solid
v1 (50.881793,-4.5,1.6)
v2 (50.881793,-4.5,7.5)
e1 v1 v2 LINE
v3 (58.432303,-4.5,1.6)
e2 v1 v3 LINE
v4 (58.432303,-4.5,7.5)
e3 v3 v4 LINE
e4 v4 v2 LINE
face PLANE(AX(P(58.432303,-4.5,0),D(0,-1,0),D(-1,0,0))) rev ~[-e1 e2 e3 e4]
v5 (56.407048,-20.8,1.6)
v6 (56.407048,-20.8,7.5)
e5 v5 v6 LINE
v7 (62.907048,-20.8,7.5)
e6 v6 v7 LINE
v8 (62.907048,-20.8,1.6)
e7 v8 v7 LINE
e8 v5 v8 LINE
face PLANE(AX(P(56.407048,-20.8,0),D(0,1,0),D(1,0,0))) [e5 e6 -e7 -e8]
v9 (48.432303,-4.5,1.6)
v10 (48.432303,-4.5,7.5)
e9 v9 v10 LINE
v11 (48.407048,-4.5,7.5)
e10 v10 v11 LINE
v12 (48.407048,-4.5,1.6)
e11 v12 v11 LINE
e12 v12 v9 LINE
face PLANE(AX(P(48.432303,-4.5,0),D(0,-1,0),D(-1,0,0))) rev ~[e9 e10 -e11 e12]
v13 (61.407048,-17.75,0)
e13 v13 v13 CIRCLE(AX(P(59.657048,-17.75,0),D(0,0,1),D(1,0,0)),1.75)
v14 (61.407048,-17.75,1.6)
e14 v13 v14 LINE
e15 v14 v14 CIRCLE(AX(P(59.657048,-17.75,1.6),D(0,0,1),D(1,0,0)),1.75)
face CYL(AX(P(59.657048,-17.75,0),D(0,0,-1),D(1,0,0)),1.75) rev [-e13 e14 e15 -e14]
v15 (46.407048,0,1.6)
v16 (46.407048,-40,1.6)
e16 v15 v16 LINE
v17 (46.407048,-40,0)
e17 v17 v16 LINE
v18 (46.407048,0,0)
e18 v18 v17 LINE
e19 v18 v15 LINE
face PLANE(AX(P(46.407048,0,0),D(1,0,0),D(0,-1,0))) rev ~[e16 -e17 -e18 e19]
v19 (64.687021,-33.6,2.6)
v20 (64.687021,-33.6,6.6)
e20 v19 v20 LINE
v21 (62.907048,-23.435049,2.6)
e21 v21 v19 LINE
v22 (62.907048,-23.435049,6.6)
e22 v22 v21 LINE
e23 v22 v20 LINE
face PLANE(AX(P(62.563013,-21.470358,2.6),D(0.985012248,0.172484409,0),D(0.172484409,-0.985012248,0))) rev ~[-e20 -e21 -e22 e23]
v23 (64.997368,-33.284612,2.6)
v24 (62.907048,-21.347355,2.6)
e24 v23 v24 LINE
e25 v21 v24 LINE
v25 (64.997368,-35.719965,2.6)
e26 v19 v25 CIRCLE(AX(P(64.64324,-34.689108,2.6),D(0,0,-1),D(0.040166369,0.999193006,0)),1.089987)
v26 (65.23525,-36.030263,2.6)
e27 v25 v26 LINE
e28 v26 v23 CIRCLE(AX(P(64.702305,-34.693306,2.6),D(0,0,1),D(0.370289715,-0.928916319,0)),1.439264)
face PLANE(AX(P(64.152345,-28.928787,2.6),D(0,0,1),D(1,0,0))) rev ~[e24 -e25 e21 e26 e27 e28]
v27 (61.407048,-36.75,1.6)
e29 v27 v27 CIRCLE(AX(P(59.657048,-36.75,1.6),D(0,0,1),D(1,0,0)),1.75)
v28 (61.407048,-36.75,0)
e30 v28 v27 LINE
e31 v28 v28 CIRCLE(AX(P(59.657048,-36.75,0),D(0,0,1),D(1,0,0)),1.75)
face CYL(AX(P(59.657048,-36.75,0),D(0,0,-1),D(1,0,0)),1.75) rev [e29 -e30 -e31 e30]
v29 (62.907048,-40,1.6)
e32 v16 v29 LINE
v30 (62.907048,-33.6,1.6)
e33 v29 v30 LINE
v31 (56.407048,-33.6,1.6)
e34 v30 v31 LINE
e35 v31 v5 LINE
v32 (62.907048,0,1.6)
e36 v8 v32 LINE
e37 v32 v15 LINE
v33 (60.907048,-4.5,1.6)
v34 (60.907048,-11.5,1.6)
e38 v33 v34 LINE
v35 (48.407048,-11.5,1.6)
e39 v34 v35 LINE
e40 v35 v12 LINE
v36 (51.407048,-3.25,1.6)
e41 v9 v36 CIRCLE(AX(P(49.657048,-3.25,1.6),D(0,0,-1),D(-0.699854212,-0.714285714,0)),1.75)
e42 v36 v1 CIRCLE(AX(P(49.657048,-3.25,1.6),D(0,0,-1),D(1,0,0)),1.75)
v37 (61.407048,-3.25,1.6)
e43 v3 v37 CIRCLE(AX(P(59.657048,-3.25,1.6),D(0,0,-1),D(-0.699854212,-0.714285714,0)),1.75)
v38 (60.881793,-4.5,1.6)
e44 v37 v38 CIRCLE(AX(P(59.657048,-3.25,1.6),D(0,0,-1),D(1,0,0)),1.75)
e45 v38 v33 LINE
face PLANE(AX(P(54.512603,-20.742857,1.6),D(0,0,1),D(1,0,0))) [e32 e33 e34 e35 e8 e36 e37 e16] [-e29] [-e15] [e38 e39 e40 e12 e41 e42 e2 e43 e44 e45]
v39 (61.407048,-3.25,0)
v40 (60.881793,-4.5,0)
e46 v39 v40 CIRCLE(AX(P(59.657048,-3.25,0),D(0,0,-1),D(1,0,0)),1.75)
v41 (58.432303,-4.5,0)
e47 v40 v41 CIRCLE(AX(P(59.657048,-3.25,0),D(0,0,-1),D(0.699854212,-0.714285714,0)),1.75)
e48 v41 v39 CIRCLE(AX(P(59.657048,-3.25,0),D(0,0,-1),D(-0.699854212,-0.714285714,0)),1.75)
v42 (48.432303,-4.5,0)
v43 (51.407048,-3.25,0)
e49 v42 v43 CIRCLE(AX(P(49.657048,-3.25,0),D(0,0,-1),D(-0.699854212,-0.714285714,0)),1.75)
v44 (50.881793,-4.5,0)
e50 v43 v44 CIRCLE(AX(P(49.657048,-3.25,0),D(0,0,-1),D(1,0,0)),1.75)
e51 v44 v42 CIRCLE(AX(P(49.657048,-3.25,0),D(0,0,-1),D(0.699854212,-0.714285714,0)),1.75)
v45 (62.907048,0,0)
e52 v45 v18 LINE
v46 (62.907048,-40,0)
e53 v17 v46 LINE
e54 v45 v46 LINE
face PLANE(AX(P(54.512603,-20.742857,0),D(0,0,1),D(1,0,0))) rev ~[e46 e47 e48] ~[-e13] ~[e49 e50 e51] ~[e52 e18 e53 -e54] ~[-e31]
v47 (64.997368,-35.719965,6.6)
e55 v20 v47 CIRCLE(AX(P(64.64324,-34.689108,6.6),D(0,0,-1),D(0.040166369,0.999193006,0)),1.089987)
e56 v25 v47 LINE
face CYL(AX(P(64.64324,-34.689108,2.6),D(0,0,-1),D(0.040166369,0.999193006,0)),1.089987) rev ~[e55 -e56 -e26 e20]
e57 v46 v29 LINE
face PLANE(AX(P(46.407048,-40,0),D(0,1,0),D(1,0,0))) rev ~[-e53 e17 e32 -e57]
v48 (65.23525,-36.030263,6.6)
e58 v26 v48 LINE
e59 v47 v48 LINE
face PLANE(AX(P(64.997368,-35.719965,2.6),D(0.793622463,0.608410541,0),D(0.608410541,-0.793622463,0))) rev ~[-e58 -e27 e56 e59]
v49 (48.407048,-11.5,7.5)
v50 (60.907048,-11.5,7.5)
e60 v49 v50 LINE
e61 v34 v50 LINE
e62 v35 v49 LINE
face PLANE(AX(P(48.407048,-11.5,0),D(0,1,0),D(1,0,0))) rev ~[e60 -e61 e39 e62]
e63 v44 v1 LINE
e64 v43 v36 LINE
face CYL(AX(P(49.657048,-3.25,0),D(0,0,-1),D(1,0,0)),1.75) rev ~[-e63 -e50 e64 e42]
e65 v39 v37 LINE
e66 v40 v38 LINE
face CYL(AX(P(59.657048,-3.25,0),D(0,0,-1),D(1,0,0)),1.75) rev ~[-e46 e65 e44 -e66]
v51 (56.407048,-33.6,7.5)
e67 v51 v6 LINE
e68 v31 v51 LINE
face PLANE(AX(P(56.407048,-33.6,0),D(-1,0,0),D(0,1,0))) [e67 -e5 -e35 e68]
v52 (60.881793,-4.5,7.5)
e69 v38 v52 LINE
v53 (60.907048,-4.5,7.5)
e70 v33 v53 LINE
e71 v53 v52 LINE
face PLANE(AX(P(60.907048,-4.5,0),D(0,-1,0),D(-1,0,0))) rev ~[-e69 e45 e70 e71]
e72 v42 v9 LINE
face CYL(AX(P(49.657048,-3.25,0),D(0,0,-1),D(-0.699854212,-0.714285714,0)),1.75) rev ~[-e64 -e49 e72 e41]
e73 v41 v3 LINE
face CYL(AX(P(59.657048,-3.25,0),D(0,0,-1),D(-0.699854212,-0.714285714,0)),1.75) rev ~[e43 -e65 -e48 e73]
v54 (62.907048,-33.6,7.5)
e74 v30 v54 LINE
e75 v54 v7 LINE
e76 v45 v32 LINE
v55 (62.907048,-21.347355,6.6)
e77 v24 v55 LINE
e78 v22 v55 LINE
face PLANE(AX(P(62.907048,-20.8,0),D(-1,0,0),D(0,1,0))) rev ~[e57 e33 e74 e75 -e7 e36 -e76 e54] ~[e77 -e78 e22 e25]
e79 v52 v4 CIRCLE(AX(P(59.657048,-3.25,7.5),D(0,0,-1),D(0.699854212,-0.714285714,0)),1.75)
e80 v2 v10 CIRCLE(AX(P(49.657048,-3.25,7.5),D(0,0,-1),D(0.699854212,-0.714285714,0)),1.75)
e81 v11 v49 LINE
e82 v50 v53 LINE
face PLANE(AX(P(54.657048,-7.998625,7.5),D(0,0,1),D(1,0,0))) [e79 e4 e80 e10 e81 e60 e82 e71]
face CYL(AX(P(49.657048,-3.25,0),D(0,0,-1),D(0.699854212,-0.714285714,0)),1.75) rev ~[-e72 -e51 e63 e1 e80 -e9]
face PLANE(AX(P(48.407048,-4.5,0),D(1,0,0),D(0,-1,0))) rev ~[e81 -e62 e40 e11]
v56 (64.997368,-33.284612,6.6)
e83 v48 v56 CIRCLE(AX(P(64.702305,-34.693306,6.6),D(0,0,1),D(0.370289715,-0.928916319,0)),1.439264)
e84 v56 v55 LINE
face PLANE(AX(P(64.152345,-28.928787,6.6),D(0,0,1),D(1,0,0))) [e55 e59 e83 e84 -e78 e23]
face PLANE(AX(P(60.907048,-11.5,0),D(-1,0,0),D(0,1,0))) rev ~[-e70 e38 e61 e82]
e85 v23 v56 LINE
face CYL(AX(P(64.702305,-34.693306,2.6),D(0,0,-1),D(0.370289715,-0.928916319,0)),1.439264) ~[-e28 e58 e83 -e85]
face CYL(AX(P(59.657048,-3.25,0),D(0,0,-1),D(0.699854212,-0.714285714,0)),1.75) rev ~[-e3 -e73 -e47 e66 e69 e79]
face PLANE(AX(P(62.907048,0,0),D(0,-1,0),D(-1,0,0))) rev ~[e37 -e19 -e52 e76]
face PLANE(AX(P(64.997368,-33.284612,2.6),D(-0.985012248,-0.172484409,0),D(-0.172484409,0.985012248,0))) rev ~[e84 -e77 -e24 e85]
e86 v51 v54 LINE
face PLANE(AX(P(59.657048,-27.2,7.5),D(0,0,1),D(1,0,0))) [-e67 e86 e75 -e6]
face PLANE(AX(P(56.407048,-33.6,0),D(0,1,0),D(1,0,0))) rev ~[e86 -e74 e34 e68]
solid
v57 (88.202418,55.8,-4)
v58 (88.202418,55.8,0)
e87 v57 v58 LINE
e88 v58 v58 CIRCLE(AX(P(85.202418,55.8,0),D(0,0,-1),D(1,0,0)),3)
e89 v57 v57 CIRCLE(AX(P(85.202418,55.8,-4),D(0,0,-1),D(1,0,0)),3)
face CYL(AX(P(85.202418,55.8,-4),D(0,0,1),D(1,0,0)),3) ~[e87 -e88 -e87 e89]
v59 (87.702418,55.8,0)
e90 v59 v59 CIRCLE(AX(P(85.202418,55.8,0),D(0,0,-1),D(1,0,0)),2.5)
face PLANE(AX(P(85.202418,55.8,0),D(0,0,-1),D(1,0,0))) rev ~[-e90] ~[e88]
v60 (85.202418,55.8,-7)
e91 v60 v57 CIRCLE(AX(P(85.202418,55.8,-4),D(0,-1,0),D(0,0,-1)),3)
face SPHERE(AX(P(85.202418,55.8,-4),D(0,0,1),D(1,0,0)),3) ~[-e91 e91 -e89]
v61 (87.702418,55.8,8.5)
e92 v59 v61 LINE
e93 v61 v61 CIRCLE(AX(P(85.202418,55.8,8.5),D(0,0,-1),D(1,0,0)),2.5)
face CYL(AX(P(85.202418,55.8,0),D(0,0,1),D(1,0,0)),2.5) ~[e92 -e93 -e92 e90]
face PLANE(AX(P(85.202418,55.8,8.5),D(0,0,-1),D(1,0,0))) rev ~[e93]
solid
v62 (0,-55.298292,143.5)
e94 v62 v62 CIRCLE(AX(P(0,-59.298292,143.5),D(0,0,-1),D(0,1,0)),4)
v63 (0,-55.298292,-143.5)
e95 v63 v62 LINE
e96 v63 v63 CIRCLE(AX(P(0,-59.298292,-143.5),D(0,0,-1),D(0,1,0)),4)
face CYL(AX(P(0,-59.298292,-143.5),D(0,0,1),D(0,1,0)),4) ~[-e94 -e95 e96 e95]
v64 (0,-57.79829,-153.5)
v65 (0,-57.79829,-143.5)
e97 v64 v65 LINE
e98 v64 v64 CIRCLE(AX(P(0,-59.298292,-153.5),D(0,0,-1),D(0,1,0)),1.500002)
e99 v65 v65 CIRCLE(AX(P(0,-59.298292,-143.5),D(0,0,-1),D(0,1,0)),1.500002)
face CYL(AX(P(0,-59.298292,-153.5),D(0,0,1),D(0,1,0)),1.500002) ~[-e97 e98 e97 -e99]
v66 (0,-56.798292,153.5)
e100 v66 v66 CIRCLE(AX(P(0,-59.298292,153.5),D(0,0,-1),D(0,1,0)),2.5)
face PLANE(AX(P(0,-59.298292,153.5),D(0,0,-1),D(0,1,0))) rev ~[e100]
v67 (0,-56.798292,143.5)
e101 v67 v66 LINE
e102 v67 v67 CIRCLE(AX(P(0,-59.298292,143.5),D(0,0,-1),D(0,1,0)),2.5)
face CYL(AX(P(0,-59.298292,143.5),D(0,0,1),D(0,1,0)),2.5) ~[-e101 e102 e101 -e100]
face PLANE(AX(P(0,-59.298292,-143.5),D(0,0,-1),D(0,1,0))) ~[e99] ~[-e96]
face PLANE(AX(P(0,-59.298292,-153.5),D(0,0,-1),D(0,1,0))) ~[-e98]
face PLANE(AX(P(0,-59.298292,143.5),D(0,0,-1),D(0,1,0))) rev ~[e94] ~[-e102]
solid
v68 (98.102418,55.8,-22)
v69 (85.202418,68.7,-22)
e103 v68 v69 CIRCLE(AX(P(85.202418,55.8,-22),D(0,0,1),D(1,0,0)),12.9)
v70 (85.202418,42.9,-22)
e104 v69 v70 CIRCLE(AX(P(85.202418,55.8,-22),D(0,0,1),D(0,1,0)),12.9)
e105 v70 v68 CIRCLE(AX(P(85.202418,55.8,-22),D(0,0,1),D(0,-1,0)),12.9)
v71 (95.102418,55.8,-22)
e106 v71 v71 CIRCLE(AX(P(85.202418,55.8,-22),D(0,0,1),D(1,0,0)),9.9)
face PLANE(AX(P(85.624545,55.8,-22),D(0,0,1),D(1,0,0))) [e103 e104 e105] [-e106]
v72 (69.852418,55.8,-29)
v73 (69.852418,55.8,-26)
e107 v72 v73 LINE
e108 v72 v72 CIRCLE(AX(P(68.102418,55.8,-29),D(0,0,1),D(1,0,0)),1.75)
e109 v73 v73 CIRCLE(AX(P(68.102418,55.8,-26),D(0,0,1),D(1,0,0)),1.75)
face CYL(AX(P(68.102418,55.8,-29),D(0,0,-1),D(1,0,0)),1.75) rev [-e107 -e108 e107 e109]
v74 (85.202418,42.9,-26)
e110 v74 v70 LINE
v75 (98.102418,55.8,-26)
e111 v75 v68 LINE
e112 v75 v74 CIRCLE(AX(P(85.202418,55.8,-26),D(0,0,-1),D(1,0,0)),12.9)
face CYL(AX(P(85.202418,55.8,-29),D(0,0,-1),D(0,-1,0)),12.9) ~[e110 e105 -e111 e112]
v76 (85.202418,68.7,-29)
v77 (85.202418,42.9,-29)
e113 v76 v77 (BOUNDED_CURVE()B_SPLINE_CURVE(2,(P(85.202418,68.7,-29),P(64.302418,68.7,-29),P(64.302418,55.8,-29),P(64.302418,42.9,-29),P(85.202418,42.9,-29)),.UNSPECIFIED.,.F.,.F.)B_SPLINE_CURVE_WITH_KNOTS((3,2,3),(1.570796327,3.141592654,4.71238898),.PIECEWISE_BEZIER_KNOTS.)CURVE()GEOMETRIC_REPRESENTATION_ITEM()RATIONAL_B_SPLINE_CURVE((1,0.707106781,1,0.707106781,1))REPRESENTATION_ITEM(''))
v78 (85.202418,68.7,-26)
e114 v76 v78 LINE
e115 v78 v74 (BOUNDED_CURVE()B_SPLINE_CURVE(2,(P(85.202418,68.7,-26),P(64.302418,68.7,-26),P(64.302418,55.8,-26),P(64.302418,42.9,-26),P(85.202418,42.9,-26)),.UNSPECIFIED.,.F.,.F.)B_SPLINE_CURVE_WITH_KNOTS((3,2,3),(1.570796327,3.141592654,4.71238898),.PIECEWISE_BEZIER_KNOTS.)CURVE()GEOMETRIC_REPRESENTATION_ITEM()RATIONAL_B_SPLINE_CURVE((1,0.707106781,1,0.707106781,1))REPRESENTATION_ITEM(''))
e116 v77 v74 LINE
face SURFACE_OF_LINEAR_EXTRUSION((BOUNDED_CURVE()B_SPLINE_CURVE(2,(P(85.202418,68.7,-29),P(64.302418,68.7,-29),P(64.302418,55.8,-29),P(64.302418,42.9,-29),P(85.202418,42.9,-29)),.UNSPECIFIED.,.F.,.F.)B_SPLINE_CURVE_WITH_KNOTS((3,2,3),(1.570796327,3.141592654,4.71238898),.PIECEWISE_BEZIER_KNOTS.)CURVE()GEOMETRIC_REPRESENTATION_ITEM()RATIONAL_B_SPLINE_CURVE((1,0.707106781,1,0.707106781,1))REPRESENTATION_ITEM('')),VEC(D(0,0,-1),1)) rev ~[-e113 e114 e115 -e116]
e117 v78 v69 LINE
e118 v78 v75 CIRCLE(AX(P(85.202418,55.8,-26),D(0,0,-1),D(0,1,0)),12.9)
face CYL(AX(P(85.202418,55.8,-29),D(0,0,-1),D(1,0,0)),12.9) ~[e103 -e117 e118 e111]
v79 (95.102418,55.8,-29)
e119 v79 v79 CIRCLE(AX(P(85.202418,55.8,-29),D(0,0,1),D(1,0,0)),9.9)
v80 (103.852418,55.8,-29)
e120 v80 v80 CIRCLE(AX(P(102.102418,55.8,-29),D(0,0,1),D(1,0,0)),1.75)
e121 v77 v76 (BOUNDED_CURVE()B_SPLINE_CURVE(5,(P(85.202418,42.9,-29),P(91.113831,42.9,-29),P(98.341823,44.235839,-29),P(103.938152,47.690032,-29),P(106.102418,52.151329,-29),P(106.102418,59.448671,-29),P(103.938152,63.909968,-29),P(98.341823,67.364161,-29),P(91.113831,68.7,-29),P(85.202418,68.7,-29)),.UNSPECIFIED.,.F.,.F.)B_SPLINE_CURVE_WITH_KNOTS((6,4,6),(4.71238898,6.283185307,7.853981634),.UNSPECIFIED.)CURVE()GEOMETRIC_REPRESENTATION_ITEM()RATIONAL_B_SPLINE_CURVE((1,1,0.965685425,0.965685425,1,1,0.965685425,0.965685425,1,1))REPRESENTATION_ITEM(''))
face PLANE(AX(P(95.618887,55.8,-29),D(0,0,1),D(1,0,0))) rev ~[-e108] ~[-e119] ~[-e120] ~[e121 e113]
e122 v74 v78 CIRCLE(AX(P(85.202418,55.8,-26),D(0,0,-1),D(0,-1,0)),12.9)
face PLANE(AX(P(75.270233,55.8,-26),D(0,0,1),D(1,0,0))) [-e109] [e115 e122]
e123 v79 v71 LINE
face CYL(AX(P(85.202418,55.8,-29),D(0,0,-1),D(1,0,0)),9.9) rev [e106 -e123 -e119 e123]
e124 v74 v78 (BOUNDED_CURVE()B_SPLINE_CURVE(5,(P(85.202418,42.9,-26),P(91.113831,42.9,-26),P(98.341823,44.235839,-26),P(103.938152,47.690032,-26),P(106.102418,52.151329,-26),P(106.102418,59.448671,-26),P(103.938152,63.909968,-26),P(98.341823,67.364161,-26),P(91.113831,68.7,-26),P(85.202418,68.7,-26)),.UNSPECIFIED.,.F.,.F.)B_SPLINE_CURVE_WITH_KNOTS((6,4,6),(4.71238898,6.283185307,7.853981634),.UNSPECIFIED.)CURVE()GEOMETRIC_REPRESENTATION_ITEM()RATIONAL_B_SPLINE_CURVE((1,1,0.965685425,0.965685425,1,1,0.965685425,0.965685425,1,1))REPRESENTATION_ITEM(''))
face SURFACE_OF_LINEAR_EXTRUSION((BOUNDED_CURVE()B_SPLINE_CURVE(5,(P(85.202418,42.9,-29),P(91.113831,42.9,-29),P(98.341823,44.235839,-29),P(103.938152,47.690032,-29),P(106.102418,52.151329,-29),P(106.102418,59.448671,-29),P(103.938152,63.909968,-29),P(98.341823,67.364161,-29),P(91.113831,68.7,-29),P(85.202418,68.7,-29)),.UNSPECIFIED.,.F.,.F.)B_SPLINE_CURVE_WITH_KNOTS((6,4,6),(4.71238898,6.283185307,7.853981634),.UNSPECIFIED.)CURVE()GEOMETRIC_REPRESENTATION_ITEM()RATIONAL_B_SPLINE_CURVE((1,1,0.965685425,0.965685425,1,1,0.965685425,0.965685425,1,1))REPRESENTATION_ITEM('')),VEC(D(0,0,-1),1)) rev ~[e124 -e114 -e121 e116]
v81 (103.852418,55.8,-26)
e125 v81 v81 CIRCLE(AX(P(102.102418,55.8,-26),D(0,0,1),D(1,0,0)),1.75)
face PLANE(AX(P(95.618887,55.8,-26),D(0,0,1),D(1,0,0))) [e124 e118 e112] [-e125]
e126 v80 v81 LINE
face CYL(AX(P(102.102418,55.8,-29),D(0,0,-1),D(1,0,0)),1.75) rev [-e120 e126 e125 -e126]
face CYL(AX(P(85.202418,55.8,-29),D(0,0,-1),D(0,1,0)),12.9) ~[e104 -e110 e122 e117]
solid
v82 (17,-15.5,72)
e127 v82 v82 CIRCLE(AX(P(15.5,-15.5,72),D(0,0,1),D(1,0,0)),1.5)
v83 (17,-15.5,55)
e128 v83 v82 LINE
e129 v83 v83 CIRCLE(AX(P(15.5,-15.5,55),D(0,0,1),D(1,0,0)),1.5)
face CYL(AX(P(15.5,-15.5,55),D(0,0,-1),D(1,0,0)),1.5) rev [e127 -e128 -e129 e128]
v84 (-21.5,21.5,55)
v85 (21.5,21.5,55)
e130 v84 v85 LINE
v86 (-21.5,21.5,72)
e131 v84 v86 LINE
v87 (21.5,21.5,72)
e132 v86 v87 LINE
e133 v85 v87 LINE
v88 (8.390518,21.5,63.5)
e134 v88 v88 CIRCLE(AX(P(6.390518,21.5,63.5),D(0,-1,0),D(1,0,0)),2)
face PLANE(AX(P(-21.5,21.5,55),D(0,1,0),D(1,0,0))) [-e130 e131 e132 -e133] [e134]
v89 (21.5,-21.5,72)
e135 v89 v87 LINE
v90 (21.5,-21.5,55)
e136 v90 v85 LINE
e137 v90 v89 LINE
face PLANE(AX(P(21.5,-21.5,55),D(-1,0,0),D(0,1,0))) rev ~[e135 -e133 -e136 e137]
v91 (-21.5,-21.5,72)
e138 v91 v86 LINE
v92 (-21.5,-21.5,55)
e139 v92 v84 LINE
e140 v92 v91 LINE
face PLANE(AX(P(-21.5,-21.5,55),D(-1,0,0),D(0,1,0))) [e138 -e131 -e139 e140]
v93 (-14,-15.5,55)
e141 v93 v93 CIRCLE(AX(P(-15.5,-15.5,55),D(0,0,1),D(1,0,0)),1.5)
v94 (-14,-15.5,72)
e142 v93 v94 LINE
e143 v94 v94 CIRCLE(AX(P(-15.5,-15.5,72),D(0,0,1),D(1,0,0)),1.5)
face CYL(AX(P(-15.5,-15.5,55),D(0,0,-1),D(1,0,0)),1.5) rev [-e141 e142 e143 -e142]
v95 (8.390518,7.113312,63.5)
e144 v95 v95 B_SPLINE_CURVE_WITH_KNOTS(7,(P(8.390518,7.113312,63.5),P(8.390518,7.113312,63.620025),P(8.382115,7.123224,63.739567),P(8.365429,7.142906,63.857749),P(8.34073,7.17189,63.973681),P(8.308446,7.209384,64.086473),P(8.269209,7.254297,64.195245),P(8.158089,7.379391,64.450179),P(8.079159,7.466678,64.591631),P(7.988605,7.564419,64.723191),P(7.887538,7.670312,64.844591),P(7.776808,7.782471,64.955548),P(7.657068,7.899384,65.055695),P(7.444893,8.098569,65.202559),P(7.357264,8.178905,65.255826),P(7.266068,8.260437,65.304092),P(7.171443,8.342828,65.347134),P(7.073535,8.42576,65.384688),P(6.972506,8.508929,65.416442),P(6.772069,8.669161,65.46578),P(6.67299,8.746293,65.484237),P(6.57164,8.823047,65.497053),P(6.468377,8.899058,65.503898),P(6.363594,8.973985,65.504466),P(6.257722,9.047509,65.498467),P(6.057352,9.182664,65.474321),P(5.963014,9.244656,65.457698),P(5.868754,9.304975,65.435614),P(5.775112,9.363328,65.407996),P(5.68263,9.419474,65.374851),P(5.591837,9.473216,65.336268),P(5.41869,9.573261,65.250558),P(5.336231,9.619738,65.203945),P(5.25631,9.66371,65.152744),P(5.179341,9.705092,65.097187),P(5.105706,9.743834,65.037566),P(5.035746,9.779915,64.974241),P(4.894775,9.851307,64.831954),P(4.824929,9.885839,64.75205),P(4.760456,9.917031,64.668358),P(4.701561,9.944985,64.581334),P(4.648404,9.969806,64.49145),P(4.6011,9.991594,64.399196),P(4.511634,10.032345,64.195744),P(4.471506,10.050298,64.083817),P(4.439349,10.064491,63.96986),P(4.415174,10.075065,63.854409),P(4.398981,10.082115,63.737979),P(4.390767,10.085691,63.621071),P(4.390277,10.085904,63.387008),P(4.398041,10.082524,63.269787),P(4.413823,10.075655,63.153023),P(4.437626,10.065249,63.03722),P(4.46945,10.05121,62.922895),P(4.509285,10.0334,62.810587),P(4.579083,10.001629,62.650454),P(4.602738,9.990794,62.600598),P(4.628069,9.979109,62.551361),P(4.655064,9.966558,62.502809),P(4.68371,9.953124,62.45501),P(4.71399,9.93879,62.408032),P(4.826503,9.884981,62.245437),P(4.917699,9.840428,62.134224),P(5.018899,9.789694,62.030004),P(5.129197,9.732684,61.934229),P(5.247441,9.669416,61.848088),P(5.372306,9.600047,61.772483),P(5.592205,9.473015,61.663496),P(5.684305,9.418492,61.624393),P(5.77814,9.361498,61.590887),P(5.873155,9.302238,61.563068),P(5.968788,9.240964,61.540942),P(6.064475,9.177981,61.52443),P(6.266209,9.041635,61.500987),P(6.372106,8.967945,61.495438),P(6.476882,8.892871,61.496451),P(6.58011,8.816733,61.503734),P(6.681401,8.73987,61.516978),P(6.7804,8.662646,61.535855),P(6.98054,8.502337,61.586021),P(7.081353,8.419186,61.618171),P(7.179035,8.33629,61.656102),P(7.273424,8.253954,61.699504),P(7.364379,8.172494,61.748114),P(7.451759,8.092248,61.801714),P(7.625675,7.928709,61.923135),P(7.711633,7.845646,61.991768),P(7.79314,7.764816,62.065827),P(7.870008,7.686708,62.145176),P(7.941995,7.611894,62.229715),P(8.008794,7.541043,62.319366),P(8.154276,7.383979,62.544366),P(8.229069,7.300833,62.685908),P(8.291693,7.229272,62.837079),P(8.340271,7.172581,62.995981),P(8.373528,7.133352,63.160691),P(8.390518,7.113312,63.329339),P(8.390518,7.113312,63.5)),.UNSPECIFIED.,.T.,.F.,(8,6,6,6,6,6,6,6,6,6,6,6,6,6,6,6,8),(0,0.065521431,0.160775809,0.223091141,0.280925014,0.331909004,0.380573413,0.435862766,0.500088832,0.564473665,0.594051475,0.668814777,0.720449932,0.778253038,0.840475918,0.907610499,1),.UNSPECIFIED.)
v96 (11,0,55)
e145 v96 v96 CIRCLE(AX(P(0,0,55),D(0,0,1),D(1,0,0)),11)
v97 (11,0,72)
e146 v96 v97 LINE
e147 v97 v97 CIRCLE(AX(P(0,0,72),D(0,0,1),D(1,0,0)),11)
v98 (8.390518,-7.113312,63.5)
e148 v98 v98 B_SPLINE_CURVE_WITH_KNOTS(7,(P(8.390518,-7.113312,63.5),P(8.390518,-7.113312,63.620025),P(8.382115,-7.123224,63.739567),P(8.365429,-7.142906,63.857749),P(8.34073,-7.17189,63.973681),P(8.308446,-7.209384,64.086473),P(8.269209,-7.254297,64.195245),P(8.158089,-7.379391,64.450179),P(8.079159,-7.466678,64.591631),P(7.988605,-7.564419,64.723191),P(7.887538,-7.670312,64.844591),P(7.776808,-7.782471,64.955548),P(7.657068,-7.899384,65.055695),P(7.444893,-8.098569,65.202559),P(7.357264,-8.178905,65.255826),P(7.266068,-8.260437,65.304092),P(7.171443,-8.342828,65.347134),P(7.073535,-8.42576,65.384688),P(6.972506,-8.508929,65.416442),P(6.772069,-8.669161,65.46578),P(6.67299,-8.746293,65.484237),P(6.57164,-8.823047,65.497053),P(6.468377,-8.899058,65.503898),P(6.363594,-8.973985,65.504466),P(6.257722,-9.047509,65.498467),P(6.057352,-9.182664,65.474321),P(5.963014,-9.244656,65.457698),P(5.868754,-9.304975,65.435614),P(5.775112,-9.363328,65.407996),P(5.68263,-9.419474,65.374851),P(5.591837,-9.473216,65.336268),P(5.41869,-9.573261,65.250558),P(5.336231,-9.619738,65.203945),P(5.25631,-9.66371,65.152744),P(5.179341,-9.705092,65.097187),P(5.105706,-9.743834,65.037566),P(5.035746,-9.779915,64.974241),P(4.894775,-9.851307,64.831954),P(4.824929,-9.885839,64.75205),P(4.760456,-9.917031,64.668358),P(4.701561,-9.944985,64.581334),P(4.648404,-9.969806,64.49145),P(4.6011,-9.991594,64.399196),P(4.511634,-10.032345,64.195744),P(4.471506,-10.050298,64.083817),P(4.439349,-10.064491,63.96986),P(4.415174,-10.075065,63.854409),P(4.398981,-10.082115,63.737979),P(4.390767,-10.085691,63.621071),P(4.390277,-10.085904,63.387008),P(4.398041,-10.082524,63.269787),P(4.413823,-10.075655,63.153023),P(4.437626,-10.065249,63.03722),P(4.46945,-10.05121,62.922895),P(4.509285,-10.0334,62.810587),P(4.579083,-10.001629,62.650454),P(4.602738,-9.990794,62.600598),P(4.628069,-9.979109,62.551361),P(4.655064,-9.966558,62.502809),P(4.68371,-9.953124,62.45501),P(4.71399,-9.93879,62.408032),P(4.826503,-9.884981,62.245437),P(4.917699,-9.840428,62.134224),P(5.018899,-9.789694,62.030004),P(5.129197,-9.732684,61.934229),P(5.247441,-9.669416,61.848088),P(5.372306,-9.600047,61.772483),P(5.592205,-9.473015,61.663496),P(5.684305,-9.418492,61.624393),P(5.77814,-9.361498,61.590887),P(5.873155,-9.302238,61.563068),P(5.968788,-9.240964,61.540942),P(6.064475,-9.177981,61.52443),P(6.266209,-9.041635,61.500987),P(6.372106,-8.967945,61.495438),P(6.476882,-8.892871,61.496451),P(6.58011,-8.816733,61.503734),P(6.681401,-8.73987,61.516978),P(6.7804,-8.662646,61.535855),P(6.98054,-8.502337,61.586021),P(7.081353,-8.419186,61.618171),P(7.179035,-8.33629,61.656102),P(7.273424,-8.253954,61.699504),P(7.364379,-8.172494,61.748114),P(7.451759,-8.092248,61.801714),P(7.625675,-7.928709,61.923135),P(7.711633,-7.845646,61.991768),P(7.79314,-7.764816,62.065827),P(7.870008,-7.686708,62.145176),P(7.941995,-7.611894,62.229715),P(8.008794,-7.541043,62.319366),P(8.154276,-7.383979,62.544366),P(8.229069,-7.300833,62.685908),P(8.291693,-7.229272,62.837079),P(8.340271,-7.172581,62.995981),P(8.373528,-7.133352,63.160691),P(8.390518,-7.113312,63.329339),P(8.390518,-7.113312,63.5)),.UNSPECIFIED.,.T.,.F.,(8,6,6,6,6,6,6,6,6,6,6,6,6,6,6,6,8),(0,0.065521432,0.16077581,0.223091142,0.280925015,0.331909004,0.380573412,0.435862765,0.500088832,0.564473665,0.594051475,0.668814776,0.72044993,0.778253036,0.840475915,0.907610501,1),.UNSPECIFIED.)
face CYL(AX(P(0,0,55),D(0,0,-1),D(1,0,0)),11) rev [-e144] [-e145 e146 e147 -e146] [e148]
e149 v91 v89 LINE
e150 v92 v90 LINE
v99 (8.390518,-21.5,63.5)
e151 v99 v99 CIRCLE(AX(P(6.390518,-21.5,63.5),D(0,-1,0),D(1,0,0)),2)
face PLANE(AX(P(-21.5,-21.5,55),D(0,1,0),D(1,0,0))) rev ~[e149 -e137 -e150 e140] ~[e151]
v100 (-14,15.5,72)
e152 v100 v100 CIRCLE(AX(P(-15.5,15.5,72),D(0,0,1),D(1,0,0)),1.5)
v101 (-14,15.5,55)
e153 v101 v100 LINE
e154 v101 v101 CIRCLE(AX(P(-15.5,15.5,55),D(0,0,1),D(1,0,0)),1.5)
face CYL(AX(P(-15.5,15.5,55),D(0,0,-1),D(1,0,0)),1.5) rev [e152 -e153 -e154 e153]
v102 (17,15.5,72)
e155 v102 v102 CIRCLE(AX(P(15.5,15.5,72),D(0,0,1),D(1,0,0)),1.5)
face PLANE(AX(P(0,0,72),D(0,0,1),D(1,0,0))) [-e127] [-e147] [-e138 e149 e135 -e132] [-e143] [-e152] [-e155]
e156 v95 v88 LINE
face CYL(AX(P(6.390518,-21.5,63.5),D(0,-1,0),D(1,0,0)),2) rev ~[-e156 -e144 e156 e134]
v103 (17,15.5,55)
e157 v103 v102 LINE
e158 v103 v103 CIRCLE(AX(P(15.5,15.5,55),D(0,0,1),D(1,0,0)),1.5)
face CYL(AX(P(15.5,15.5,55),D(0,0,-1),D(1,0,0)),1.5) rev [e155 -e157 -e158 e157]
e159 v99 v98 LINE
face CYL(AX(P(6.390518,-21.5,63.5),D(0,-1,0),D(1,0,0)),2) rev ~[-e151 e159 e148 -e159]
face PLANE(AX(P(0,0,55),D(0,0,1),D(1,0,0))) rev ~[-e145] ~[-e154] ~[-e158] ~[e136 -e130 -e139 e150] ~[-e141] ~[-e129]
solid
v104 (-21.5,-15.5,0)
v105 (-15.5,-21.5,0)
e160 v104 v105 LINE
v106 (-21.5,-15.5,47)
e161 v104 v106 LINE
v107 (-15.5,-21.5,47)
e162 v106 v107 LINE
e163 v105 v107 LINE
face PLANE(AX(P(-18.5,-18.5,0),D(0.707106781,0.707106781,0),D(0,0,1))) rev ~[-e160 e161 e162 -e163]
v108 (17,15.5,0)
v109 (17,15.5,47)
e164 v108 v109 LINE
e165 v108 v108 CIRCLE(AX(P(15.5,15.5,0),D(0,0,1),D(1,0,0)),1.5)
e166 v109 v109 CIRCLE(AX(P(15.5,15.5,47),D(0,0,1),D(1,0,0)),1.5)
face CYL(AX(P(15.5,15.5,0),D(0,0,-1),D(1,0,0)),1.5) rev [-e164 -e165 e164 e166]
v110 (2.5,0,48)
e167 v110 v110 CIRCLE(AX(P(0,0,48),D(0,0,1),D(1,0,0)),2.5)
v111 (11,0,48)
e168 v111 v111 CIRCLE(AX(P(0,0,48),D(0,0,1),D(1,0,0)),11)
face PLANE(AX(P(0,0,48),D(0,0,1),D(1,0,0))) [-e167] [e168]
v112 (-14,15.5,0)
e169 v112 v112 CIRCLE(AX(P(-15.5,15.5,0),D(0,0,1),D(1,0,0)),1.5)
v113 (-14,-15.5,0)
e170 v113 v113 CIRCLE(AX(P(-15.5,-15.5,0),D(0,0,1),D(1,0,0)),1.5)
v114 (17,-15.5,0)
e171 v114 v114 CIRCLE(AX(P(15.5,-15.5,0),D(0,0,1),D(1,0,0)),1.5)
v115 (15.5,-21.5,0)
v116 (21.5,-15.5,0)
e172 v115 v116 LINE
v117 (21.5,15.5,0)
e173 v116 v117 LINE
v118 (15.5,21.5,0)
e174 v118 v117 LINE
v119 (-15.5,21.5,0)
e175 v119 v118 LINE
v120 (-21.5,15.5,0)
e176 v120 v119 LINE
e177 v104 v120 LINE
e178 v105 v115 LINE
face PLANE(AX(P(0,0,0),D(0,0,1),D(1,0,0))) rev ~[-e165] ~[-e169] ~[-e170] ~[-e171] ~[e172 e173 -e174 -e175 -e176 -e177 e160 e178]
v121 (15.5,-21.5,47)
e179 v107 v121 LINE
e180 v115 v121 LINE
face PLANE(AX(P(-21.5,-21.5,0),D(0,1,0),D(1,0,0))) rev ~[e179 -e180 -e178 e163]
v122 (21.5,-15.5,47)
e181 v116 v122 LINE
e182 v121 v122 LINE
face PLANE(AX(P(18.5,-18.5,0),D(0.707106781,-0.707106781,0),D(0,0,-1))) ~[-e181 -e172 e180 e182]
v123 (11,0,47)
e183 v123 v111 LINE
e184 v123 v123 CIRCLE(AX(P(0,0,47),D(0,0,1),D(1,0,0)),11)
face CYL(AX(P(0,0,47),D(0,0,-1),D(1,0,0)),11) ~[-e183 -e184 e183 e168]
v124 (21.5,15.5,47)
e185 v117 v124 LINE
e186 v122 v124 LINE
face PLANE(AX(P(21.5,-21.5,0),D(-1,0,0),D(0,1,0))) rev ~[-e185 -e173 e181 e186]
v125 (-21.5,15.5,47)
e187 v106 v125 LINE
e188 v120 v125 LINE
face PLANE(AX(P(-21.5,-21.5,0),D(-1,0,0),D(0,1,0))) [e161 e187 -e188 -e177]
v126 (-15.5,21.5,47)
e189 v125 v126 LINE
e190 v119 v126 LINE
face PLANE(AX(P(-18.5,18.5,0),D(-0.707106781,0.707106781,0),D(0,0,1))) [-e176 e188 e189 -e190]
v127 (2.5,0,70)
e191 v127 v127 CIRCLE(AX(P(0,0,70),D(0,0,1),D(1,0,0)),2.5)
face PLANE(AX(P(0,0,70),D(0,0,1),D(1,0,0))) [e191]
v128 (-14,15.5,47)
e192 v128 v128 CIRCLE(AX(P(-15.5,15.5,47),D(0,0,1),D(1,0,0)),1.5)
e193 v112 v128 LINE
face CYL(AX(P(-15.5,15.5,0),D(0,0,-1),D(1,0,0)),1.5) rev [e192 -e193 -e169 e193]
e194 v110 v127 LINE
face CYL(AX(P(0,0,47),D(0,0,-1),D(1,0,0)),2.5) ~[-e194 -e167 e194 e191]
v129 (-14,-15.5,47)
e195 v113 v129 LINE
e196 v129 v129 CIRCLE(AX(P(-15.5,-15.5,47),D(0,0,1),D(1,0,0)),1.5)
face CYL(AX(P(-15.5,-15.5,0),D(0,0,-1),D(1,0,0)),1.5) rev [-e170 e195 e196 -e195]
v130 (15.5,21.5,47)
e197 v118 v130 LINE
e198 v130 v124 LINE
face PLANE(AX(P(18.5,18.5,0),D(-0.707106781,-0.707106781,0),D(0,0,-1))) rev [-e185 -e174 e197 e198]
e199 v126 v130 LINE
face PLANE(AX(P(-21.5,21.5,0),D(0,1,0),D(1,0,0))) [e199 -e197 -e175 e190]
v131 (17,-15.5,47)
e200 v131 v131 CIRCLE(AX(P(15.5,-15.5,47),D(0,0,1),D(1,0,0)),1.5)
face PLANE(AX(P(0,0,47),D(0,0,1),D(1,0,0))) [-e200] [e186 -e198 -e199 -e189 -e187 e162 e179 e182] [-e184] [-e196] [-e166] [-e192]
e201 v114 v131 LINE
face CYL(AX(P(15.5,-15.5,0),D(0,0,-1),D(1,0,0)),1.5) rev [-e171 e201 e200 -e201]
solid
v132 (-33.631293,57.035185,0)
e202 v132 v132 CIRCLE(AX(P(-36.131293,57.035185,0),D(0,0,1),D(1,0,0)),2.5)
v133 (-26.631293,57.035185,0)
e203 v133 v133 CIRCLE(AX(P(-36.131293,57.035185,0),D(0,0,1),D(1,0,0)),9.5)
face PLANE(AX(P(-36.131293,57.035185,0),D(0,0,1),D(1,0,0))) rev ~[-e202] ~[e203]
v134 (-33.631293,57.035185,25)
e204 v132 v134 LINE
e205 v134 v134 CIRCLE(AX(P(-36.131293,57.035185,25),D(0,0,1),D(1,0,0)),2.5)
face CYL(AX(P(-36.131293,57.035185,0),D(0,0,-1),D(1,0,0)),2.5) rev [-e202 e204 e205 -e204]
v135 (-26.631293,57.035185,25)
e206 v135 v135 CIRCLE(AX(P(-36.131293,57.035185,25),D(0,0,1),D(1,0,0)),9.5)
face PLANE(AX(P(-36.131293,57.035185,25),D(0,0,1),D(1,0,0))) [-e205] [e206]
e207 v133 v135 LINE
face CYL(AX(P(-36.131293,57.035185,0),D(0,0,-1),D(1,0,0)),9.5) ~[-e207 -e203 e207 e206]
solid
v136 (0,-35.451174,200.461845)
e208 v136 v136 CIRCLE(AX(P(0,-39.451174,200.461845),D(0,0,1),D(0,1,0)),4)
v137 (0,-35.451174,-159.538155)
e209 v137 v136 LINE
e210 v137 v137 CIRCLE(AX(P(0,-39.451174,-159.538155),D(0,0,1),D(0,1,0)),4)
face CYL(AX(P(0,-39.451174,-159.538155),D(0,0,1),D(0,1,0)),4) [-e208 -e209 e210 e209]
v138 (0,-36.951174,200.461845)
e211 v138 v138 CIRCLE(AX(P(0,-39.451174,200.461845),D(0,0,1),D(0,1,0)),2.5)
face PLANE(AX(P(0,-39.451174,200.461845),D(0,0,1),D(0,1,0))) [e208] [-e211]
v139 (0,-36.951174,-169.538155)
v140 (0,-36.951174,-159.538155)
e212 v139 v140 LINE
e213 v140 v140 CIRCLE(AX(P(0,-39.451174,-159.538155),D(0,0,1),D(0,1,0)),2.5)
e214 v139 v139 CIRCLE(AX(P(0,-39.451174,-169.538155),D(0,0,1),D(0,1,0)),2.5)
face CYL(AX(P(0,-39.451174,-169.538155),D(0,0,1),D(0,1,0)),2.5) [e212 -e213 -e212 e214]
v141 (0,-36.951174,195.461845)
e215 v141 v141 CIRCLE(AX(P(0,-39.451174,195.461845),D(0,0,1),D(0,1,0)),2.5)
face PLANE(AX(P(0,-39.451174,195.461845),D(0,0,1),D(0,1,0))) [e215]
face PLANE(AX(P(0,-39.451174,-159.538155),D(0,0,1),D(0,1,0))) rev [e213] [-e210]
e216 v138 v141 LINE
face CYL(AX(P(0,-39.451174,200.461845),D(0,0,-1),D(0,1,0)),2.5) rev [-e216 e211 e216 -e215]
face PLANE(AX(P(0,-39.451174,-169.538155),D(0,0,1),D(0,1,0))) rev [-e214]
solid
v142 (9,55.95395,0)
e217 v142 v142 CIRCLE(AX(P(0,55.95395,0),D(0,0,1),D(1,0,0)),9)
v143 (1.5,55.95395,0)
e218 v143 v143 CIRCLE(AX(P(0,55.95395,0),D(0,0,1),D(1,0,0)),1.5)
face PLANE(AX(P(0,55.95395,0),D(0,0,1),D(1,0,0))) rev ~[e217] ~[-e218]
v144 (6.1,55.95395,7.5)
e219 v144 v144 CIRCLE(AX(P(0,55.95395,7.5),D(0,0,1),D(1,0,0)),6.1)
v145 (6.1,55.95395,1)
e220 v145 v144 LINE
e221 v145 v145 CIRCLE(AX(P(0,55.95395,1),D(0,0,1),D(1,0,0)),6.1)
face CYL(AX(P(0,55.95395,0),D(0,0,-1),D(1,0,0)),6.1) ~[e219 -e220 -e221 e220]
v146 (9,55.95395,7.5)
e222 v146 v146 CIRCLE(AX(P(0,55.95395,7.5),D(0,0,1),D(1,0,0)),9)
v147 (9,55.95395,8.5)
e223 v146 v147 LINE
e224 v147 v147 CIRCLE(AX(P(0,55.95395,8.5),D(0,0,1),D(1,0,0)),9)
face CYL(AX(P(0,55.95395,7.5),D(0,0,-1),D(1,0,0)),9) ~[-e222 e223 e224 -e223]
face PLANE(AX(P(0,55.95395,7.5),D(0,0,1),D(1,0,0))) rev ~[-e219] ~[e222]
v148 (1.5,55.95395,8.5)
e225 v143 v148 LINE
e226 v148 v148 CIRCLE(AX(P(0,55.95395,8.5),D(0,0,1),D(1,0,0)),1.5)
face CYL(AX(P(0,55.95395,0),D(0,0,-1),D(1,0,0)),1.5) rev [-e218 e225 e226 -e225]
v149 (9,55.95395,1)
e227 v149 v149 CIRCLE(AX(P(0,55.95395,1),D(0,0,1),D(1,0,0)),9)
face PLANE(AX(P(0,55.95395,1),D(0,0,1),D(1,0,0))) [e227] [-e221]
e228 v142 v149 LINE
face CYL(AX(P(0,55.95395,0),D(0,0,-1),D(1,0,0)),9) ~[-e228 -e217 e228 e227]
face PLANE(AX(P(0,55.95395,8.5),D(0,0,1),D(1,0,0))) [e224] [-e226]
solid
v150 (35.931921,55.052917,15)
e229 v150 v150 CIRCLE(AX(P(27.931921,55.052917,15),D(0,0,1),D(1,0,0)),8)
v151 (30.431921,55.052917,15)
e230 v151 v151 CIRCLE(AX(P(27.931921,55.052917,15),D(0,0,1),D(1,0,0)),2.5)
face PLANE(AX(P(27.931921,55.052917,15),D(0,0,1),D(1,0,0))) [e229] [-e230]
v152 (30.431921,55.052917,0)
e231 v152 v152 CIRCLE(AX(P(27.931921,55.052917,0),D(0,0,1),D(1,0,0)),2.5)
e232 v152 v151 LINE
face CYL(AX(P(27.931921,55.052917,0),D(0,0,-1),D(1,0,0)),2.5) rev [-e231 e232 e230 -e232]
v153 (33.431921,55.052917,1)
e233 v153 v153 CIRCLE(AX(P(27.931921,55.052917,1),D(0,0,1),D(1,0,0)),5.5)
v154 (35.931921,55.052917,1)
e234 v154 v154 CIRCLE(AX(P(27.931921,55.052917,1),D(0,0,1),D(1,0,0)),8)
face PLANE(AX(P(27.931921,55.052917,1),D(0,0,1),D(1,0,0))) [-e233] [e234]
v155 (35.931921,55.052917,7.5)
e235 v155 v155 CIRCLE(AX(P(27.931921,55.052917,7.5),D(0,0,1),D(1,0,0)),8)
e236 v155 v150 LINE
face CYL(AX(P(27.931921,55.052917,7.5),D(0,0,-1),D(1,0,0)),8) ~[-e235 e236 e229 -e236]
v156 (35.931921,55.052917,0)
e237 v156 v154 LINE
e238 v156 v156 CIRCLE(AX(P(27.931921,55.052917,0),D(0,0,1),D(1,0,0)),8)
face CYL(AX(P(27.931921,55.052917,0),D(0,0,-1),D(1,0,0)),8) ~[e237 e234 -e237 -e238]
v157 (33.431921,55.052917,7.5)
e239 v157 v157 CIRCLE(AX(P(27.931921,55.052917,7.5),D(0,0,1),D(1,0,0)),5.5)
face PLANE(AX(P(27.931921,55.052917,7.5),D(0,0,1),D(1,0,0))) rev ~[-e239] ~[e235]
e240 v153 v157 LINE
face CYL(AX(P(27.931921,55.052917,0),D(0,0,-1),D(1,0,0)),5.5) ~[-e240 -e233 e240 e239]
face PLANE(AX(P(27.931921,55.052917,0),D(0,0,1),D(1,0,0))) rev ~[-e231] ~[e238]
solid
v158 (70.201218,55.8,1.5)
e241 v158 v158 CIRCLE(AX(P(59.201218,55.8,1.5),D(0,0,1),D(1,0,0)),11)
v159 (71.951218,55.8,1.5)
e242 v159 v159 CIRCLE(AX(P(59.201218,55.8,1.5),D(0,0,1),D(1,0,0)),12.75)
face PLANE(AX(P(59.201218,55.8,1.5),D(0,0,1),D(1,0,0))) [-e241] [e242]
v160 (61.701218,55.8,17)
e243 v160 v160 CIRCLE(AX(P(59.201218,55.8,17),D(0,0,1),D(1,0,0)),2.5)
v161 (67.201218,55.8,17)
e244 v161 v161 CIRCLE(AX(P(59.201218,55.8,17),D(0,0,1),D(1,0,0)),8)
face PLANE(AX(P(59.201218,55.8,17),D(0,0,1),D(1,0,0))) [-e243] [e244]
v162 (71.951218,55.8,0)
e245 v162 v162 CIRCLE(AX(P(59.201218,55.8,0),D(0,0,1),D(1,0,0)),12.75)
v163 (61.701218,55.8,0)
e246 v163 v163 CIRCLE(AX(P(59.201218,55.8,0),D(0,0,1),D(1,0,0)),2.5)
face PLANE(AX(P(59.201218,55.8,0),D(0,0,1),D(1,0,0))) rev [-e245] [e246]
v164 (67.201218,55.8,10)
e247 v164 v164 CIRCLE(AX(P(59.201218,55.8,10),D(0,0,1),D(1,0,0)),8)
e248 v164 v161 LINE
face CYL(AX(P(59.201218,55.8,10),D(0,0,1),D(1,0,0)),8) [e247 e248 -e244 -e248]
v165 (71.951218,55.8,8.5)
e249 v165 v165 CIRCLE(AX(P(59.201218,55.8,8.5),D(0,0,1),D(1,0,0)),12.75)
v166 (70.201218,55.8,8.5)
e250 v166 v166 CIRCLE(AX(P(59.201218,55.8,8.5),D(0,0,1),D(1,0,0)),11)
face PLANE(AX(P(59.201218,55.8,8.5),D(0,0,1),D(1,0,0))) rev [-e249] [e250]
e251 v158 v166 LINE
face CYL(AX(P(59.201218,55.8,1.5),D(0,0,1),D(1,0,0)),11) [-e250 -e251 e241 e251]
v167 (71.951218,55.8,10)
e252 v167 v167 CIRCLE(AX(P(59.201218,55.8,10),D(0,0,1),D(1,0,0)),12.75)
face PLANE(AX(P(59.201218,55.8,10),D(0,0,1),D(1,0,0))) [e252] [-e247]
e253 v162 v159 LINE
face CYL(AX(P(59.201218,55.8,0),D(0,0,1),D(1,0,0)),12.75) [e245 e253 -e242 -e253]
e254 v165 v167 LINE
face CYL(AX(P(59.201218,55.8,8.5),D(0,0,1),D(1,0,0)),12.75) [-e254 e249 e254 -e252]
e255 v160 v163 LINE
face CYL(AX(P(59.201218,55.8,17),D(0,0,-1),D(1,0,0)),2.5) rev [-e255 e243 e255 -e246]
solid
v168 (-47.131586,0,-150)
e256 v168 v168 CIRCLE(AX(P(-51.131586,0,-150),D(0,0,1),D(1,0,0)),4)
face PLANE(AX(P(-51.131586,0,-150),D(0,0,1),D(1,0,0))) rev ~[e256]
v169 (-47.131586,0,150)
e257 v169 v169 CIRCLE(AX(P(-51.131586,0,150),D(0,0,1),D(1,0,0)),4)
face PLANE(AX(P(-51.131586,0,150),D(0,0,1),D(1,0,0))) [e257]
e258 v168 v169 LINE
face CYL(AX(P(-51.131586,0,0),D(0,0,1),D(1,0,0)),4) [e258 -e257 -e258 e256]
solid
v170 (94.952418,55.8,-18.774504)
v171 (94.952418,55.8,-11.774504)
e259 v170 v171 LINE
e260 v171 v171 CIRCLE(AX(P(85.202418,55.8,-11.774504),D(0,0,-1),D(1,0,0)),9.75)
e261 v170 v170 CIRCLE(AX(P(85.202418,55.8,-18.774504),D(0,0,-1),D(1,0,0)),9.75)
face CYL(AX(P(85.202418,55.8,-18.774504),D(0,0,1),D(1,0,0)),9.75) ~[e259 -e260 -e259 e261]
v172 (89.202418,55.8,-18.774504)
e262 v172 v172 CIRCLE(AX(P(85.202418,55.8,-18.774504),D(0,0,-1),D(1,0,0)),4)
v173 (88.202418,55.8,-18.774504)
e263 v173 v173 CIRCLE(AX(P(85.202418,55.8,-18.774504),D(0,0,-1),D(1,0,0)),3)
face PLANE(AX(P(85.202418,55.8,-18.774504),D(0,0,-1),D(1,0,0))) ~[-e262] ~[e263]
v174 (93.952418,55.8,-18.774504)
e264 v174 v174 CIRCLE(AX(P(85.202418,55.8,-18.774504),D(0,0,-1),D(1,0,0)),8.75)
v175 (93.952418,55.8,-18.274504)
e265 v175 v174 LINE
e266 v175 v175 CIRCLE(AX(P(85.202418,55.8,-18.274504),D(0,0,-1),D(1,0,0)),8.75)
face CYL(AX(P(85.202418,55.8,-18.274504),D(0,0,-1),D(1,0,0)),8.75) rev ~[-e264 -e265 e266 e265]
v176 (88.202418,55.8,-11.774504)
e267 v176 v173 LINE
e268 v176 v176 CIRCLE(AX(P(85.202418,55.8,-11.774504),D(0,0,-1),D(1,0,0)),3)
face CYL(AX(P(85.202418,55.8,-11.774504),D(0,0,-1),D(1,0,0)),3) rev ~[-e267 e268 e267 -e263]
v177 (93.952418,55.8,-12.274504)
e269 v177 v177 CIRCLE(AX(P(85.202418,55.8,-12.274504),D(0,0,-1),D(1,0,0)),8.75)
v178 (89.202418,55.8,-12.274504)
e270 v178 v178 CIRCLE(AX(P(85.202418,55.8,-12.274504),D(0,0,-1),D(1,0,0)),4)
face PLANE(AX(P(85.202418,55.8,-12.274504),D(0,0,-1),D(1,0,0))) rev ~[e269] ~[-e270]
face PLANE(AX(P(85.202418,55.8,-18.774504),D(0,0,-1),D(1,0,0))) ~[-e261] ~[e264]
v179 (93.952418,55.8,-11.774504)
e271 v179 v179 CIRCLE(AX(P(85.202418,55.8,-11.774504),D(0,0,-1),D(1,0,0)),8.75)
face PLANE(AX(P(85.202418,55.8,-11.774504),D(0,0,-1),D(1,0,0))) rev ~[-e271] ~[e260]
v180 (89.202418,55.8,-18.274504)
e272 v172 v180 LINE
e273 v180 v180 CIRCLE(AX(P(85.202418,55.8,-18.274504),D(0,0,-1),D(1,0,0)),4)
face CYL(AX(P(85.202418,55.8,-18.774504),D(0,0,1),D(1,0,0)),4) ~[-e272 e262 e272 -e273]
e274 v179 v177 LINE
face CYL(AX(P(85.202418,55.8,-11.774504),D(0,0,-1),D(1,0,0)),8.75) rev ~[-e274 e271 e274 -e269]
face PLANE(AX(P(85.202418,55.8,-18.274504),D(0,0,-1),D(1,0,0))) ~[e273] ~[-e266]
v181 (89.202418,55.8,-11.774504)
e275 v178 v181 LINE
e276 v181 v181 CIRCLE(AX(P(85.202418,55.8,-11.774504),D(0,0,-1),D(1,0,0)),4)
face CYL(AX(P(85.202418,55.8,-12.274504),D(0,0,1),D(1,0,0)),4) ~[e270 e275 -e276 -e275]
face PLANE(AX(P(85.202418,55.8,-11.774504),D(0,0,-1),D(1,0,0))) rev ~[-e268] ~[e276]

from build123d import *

# Parameters (mm, degrees)
F0_W      = 43
F0_H      = 43
F0_R      = 1.5
F1_DEPTH  = 47
F2_R      = 2.5
F3_DEPTH  = 23
F2_R_2    = 11
F4_DEPTH  = 1
F5_SIZE   = 6
F6_DEPTH  = 50
F7_R      = 9
F7_R_2    = 6.1
F8_DEPTH  = 1
F7_R_3    = 1.5
F9_DEPTH  = 8.5
F10_START = 7.5
F10_DEPTH = 1
F11_R     = 8
F11_R_2   = 5.5
F12_DEPTH = 1
F11_R_3   = 2.5
F13_DEPTH = 15
F14_START = 7.5
F14_DEPTH = 7.5
F15_START = 8
F2_W      = 43
F2_H      = 43
F2_R_3    = 1.5
F15_DEPTH = 17
F16_R     = 2
F17_DEPTH = 50
F18_R     = 9.5
F18_R_2   = 2.5
F19_DEPTH = 25
F20_R     = 4
F21_DEPTH = 150
F23_DEPTH = 7.5
F22_W     = 6.5
F22_H     = 12.8
F22_R     = 1.75
F24_DEPTH = 1.6
F26_START = 1
F26_DEPTH = 4
F33_R     = 9.9
F34_DEPTH = 7
F33_R_2   = 1.75
F35_DEPTH = 3


with BuildPart() as f1:
    # F0 (on Top) → F1 (new body)
    with BuildSketch(Plane.XY):
        Rectangle(F0_W, F0_H)
        with Locations((-15.5, -15.5)):
            Circle(F0_R, mode=Mode.SUBTRACT)
        with Locations((15.5, -15.5)):
            Circle(F0_R, mode=Mode.SUBTRACT)
        with Locations((-15.5, 15.5)):
            Circle(F0_R, mode=Mode.SUBTRACT)
        with Locations((15.5, 15.5)):
            Circle(F0_R, mode=Mode.SUBTRACT)
    extrude(amount=F1_DEPTH)

    # F2 (on face) → F3 (join)
    with BuildSketch(Plane.XY.offset(47)):
        Circle(F2_R)
    extrude(amount=F3_DEPTH)

    # F2 (on face) → F4 (join)
    with BuildSketch(Plane.XY.offset(47)):
        Circle(F2_R_2)
        Circle(F2_R, mode=Mode.SUBTRACT)
    extrude(amount=F4_DEPTH)

    # F5
    f5_edges = [f1.edges().sort_by_distance(p)[0] for p in [
        (21.5, -21.5, 23.5),
        (-21.5, -21.5, 23.5),
        (-21.5, 21.5, 23.5),
        (21.5, 21.5, 23.5),
    ]]
    chamfer(f5_edges, length=F5_SIZE)

    # F0 (on Top) → F6 (cut)
    with BuildSketch(Plane.XY):
        with Locations((-15.5, 15.5)):
            Circle(F0_R)
        with Locations((15.5, 15.5)):
            Circle(F0_R)
        with Locations((15.5, -15.5)):
            Circle(F0_R)
        with Locations((-15.5, -15.5)):
            Circle(F0_R)
    extrude(amount=F6_DEPTH, mode=Mode.SUBTRACT)


with BuildPart() as f8:
    # F7 (on Top) → F8 (new body)
    with BuildSketch(Plane.XY):
        with Locations((0, 55.9539496899)):
            Circle(F7_R)
        with Locations((0, 55.9539496899)):
            Circle(F7_R_2, mode=Mode.SUBTRACT)
    extrude(amount=F8_DEPTH)

    # F7 (on Top) → F9 (join)
    with BuildSketch(Plane.XY):
        with Locations((0, 55.9539496899)):
            Circle(F7_R_2)
        with Locations((0, 55.9539496899)):
            Circle(F7_R_3, mode=Mode.SUBTRACT)
    extrude(amount=F9_DEPTH)

    # F7 (on Top) → F10 (join)
    with BuildSketch(Plane.XY.offset(F10_START)):
        with Locations((0, 55.9539496899)):
            Circle(F7_R)
        with Locations((0, 55.9539496899)):
            Circle(F7_R_2, mode=Mode.SUBTRACT)
    extrude(amount=F10_DEPTH)


with BuildPart() as f12:
    # F11 (on Top) → F12 (new body)
    with BuildSketch(Plane.XY):
        with Locations((27.9319211841, 55.0529174507)):
            Circle(F11_R)
        with Locations((27.9319211841, 55.0529174507)):
            Circle(F11_R_2, mode=Mode.SUBTRACT)
    extrude(amount=F12_DEPTH)

    # F11 (on Top) → F13 (join)
    with BuildSketch(Plane.XY):
        with Locations((27.9319211841, 55.0529174507)):
            Circle(F11_R_2)
        with Locations((27.9319211841, 55.0529174507)):
            Circle(F11_R_3, mode=Mode.SUBTRACT)
    extrude(amount=F13_DEPTH)

    # F11 (on Top) → F14 (join)
    with BuildSketch(Plane.XY.offset(F14_START)):
        with Locations((27.9319211841, 55.0529174507)):
            Circle(F11_R)
        with Locations((27.9319211841, 55.0529174507)):
            Circle(F11_R_2, mode=Mode.SUBTRACT)
    extrude(amount=F14_DEPTH)


with BuildPart() as f15:
    # F2 (on face) → F15 (new body)
    with BuildSketch(Plane.XY.offset(47).offset(F15_START)):
        Rectangle(F2_W, F2_H)
        with Locations((-15.5, -15.5)):
            Circle(F2_R_3, mode=Mode.SUBTRACT)
        with Locations((15.5, -15.5)):
            Circle(F2_R_3, mode=Mode.SUBTRACT)
        with Locations((-15.5, 15.5)):
            Circle(F2_R_3, mode=Mode.SUBTRACT)
        Circle(F2_R_2, mode=Mode.SUBTRACT)
        with Locations((15.5, 15.5)):
            Circle(F2_R_3, mode=Mode.SUBTRACT)
    extrude(amount=F15_DEPTH)

    # F16 (on face) → F17 (cut)
    with BuildSketch(Plane.XZ.offset(21.5)):
        with Locations((6.3905180432, 63.5)):
            Circle(F16_R)
    extrude(amount=-F17_DEPTH, mode=Mode.SUBTRACT)


with BuildPart() as f19:
    # F18 (on Top) → F19 (new body)
    with BuildSketch(Plane.XY):
        with Locations((-36.1312925816, 57.0351853967)):
            Circle(F18_R)
        with Locations((-36.1312925816, 57.0351853967)):
            Circle(F18_R_2, mode=Mode.SUBTRACT)
    extrude(amount=F19_DEPTH)


with BuildPart() as f21:
    # F20 (on Top) → F21 (new body, symmetric)
    with BuildSketch(Plane.XY):
        with Locations((-51.1315862642, 0)):
            Circle(F20_R)
    extrude(amount=F21_DEPTH, both=True)


with BuildPart() as f23:
    # F22 (on Top) → F23 (new body)
    with BuildSketch(Plane.XY):
        with BuildLine():
            ThreePointArc((50.8817925306, -4.5), (49.6570476592, -5), (48.4323027878, -4.5))
            Line((48.4323027878, -4.5), (48.4070476592, -4.5))
            Line((48.4070476592, -4.5), (48.4070476592, -11.5))
            Line((48.4070476592, -11.5), (60.9070476592, -11.5))
            Line((60.9070476592, -11.5), (60.9070476592, -4.5))
            Line((60.9070476592, -4.5), (60.8817925306, -4.5))
            ThreePointArc((60.8817925306, -4.5), (59.6570476592, -5), (58.4323027878, -4.5))
            Line((58.4323027878, -4.5), (50.8817925306, -4.5))
        make_face()
    extrude(amount=F23_DEPTH)



with BuildPart() as f23b:
    # F22 (on Top) → F23, piece 2 (new body)
    with BuildSketch(Plane.XY):
        with Locations((59.6570476592, -27.2)):
            Rectangle(F22_W, F22_H)
    extrude(amount=F23_DEPTH)


with BuildPart() as f23_1:
    add(f23.part)

    add(f23b.part)  # F24 merges F23b
    # F22 (on Top) → F24 (join)
    with BuildSketch(Plane.XY):
        Polygon((46.4070476592, 0), (46.4070476592, -40), (62.9070476592, -40), (62.9070476592, -33.6), (56.4070476592, -33.6), (56.4070476592, -20.8), (62.9070476592, -20.8), (62.9070476592, 0), align=None)
        with Locations((59.6570476592, -36.75)):
            Circle(F22_R, mode=Mode.SUBTRACT)
        with BuildLine():
            ThreePointArc((48.4323027878, -4.5), (48.9791109088, -1.6366489029), (51.4070476592, -3.25))
            ThreePointArc((51.4070476592, -3.25), (51.2703987562, -3.9279367504), (50.8817925306, -4.5))
            Line((50.8817925306, -4.5), (58.4323027878, -4.5))
            ThreePointArc((58.4323027878, -4.5), (58.9791109088, -1.6366489029), (61.4070476592, -3.25))
            ThreePointArc((61.4070476592, -3.25), (61.2703987562, -3.9279367504), (60.8817925306, -4.5))
            Line((60.8817925306, -4.5), (60.9070476592, -4.5))
            Line((60.9070476592, -4.5), (60.9070476592, -11.5))
            Line((60.9070476592, -11.5), (48.4070476592, -11.5))
            Line((48.4070476592, -11.5), (48.4070476592, -4.5))
            Line((48.4070476592, -4.5), (48.4323027878, -4.5))
        make_face(mode=Mode.SUBTRACT)
        with Locations((59.6570476592, -17.75)):
            Circle(F22_R, mode=Mode.SUBTRACT)
    extrude(amount=F24_DEPTH)

    # F25 (on face) → F26 (join)
    with BuildSketch(Plane.XY.offset(1.6).offset(F26_START)):
        with BuildLine():
            Line((64.9973675609, -33.284612), (62.9070476592, -21.3473550975))
            Line((62.9070476592, -21.3473550975), (62.5630129172, -21.4703584832))
            Line((62.5630129172, -21.4703584832), (64.6870210767, -33.6))
            ThreePointArc((64.6870210767, -33.6), (65.7217323666, -34.531224736), (64.9973675609, -35.7199646533))
            Line((64.9973675609, -35.7199646533), (65.2352496982, -36.0302627087))
            ThreePointArc((65.2352496982, -36.0302627087), (66.1361976774, -34.5690745536), (64.9973675609, -33.284612))
        make_face()
    extrude(amount=F26_DEPTH)


with BuildPart() as f29:
    # F28 (on offset) → F29 (revolve)
    with BuildSketch(Plane.XZ.offset(-55.8)):
        Polygon((61.7012181878, 17), (61.7012181878, 0), (71.9512181878, 0), (71.9512181878, 1.5), (70.2012181878, 1.5), (70.2012181878, 8.5), (71.9512181878, 8.5), (71.9512181878, 10), (67.2012181878, 10), (67.2012181878, 17), align=None)
    revolve(axis=Axis((59.2012181878, 55.8, 8.5), (0, 0, 1)))


with BuildPart() as f30:
    # F28 (on offset) → F30 (revolve)
    with BuildSketch(Plane.XZ.offset(-55.8)):
        with BuildLine():
            Line((88.2024182677, -4), (88.2024182677, 0))
            Line((88.2024182677, 0), (87.7024182677, 0))
            Line((87.7024182677, 0), (87.7024182677, 8.5))
            Line((87.7024182677, 8.5), (85.2024182677, 8.5))
            Line((85.2024182677, 8.5), (85.2024182677, -7))
            ThreePointArc((85.2024182677, -7), (87.3237386113, -6.1213203436), (88.2024182677, -4))
        make_face()
    revolve(axis=Axis((85.2024182677, 55.8, 0.75), (0, 0, -1)))


with BuildPart() as f31:
    # F28 (on offset) → F31 (revolve)
    with BuildSketch(Plane.XZ.offset(-55.8)):
        Polygon((89.2024182677, -11.774503842), (88.2024182677, -11.774503842), (88.2024182677, -18.774503842), (89.2024182677, -18.774503842), (89.2024182677, -18.274503842), (93.9524182677, -18.274503842), (93.9524182677, -18.774503842), (94.9524182677, -18.774503842), (94.9524182677, -11.774503842), (93.9524182677, -11.774503842), (93.9524182677, -12.274503842), (89.2024182677, -12.274503842), align=None)
    revolve(axis=Axis((85.2024182677, 55.8, -15.274503842), (0, 0, -1)))


with BuildPart() as f34:
    # F33 (on offset) → F34 (new body)
    with BuildSketch(Plane.XY.offset(-29)):
        with BuildLine():
            ThreePointArc((85.2024182677, 42.9), (94.324095745, 46.6783225227), (98.1024182677, 55.8))
            ThreePointArc((98.1024182677, 55.8), (94.324095745, 64.9216774773), (85.2024182677, 68.7))
            ThreePointArc((85.2024182677, 68.7), (72.3024182677, 55.8), (85.2024182677, 42.9))
        make_face()
        with Locations((85.2024182677, 55.8)):
            Circle(F33_R, mode=Mode.SUBTRACT)
    extrude(amount=F34_DEPTH)

    # F33 (on offset) → F35 (join)
    with BuildSketch(Plane.XY.offset(-29)):
        with BuildLine():
            ThreePointArc((85.2024182677, 68.7), (94.324095745, 64.9216774773), (98.1024182677, 55.8))
            ThreePointArc((98.1024182677, 55.8), (94.324095745, 46.6783225227), (85.2024182677, 42.9))
            add(Edge.make_bspline(
                [(85.2024182677, 42.9), (106.1024182677, 42.9), (106.1024182677, 55.8)],
                knots=[4.7123889804, 4.7123889804, 4.7123889804, 6.2831853072, 6.2831853072, 6.2831853072], degree=2, weights=[1, 0.7071067812, 1]))
            add(Edge.make_bspline(
                [(106.1024182677, 55.8), (106.1024182677, 68.7), (85.2024182677, 68.7)],
                knots=[0, 0, 0, 1.5707963268, 1.5707963268, 1.5707963268], degree=2, weights=[1, 0.7071067812, 1]))
        make_face()
        with Locations((102.1024182677, 55.8)):
            Circle(F33_R_2, mode=Mode.SUBTRACT)
        with BuildLine():
            ThreePointArc((85.2024182677, 42.9), (72.3024182677, 55.8), (85.2024182677, 68.7))
            add(Edge.make_bspline(
                [(85.2024182677, 68.7), (64.3024182677, 68.7), (64.3024182677, 55.8), (64.3024182677, 42.9), (85.2024182677, 42.9)],
                knots=[1.5707963268, 1.5707963268, 1.5707963268, 3.1415926536, 3.1415926536, 4.7123889804, 4.7123889804, 4.7123889804], degree=2, weights=[1, 0.7071067812, 1, 0.7071067812, 1]))
        make_face()
        with Locations((68.1024182677, 55.8)):
            Circle(F33_R_2, mode=Mode.SUBTRACT)
    extrude(amount=F35_DEPTH)


with BuildPart() as f37:
    # F36 (on Right) → F37 (revolve)
    with BuildSketch(Plane.YZ):
        Polygon((-56.7982917315, 153.5), (-59.2982917315, 153.5), (-59.2982917315, -153.5), (-57.7982895189, -153.5), (-57.7982895189, -143.5), (-55.2982917315, -143.5), (-55.2982917315, 0), (-55.2982917315, 143.5), (-56.7982917315, 143.5), align=None)
    revolve(axis=Axis((0, -59.2982917315, 0), (0, 0, -1)))


with BuildPart() as f38:
    # F36 (on Right) → F38 (revolve)
    with BuildSketch(Plane.YZ):
        Polygon((-39.451174438, 195.4618448019), (-39.451174438, -169.5381551981), (-36.951174438, -169.5381551981), (-36.951174438, -159.5381551981), (-35.451174438, -159.5381551981), (-35.451174438, 200.4618448019), (-36.951174438, 200.4618448019), (-36.951174438, 195.4618448019), align=None)
    revolve(axis=Axis((0, -39.451174438, 12.9618448019), (0, 0, 1)))


solid = Compound([f1.part, f8.part, f12.part, f15.part, f19.part, f21.part, f23_1.part, f29.part, f30.part, f31.part, f34.part, f37.part, f38.part])
